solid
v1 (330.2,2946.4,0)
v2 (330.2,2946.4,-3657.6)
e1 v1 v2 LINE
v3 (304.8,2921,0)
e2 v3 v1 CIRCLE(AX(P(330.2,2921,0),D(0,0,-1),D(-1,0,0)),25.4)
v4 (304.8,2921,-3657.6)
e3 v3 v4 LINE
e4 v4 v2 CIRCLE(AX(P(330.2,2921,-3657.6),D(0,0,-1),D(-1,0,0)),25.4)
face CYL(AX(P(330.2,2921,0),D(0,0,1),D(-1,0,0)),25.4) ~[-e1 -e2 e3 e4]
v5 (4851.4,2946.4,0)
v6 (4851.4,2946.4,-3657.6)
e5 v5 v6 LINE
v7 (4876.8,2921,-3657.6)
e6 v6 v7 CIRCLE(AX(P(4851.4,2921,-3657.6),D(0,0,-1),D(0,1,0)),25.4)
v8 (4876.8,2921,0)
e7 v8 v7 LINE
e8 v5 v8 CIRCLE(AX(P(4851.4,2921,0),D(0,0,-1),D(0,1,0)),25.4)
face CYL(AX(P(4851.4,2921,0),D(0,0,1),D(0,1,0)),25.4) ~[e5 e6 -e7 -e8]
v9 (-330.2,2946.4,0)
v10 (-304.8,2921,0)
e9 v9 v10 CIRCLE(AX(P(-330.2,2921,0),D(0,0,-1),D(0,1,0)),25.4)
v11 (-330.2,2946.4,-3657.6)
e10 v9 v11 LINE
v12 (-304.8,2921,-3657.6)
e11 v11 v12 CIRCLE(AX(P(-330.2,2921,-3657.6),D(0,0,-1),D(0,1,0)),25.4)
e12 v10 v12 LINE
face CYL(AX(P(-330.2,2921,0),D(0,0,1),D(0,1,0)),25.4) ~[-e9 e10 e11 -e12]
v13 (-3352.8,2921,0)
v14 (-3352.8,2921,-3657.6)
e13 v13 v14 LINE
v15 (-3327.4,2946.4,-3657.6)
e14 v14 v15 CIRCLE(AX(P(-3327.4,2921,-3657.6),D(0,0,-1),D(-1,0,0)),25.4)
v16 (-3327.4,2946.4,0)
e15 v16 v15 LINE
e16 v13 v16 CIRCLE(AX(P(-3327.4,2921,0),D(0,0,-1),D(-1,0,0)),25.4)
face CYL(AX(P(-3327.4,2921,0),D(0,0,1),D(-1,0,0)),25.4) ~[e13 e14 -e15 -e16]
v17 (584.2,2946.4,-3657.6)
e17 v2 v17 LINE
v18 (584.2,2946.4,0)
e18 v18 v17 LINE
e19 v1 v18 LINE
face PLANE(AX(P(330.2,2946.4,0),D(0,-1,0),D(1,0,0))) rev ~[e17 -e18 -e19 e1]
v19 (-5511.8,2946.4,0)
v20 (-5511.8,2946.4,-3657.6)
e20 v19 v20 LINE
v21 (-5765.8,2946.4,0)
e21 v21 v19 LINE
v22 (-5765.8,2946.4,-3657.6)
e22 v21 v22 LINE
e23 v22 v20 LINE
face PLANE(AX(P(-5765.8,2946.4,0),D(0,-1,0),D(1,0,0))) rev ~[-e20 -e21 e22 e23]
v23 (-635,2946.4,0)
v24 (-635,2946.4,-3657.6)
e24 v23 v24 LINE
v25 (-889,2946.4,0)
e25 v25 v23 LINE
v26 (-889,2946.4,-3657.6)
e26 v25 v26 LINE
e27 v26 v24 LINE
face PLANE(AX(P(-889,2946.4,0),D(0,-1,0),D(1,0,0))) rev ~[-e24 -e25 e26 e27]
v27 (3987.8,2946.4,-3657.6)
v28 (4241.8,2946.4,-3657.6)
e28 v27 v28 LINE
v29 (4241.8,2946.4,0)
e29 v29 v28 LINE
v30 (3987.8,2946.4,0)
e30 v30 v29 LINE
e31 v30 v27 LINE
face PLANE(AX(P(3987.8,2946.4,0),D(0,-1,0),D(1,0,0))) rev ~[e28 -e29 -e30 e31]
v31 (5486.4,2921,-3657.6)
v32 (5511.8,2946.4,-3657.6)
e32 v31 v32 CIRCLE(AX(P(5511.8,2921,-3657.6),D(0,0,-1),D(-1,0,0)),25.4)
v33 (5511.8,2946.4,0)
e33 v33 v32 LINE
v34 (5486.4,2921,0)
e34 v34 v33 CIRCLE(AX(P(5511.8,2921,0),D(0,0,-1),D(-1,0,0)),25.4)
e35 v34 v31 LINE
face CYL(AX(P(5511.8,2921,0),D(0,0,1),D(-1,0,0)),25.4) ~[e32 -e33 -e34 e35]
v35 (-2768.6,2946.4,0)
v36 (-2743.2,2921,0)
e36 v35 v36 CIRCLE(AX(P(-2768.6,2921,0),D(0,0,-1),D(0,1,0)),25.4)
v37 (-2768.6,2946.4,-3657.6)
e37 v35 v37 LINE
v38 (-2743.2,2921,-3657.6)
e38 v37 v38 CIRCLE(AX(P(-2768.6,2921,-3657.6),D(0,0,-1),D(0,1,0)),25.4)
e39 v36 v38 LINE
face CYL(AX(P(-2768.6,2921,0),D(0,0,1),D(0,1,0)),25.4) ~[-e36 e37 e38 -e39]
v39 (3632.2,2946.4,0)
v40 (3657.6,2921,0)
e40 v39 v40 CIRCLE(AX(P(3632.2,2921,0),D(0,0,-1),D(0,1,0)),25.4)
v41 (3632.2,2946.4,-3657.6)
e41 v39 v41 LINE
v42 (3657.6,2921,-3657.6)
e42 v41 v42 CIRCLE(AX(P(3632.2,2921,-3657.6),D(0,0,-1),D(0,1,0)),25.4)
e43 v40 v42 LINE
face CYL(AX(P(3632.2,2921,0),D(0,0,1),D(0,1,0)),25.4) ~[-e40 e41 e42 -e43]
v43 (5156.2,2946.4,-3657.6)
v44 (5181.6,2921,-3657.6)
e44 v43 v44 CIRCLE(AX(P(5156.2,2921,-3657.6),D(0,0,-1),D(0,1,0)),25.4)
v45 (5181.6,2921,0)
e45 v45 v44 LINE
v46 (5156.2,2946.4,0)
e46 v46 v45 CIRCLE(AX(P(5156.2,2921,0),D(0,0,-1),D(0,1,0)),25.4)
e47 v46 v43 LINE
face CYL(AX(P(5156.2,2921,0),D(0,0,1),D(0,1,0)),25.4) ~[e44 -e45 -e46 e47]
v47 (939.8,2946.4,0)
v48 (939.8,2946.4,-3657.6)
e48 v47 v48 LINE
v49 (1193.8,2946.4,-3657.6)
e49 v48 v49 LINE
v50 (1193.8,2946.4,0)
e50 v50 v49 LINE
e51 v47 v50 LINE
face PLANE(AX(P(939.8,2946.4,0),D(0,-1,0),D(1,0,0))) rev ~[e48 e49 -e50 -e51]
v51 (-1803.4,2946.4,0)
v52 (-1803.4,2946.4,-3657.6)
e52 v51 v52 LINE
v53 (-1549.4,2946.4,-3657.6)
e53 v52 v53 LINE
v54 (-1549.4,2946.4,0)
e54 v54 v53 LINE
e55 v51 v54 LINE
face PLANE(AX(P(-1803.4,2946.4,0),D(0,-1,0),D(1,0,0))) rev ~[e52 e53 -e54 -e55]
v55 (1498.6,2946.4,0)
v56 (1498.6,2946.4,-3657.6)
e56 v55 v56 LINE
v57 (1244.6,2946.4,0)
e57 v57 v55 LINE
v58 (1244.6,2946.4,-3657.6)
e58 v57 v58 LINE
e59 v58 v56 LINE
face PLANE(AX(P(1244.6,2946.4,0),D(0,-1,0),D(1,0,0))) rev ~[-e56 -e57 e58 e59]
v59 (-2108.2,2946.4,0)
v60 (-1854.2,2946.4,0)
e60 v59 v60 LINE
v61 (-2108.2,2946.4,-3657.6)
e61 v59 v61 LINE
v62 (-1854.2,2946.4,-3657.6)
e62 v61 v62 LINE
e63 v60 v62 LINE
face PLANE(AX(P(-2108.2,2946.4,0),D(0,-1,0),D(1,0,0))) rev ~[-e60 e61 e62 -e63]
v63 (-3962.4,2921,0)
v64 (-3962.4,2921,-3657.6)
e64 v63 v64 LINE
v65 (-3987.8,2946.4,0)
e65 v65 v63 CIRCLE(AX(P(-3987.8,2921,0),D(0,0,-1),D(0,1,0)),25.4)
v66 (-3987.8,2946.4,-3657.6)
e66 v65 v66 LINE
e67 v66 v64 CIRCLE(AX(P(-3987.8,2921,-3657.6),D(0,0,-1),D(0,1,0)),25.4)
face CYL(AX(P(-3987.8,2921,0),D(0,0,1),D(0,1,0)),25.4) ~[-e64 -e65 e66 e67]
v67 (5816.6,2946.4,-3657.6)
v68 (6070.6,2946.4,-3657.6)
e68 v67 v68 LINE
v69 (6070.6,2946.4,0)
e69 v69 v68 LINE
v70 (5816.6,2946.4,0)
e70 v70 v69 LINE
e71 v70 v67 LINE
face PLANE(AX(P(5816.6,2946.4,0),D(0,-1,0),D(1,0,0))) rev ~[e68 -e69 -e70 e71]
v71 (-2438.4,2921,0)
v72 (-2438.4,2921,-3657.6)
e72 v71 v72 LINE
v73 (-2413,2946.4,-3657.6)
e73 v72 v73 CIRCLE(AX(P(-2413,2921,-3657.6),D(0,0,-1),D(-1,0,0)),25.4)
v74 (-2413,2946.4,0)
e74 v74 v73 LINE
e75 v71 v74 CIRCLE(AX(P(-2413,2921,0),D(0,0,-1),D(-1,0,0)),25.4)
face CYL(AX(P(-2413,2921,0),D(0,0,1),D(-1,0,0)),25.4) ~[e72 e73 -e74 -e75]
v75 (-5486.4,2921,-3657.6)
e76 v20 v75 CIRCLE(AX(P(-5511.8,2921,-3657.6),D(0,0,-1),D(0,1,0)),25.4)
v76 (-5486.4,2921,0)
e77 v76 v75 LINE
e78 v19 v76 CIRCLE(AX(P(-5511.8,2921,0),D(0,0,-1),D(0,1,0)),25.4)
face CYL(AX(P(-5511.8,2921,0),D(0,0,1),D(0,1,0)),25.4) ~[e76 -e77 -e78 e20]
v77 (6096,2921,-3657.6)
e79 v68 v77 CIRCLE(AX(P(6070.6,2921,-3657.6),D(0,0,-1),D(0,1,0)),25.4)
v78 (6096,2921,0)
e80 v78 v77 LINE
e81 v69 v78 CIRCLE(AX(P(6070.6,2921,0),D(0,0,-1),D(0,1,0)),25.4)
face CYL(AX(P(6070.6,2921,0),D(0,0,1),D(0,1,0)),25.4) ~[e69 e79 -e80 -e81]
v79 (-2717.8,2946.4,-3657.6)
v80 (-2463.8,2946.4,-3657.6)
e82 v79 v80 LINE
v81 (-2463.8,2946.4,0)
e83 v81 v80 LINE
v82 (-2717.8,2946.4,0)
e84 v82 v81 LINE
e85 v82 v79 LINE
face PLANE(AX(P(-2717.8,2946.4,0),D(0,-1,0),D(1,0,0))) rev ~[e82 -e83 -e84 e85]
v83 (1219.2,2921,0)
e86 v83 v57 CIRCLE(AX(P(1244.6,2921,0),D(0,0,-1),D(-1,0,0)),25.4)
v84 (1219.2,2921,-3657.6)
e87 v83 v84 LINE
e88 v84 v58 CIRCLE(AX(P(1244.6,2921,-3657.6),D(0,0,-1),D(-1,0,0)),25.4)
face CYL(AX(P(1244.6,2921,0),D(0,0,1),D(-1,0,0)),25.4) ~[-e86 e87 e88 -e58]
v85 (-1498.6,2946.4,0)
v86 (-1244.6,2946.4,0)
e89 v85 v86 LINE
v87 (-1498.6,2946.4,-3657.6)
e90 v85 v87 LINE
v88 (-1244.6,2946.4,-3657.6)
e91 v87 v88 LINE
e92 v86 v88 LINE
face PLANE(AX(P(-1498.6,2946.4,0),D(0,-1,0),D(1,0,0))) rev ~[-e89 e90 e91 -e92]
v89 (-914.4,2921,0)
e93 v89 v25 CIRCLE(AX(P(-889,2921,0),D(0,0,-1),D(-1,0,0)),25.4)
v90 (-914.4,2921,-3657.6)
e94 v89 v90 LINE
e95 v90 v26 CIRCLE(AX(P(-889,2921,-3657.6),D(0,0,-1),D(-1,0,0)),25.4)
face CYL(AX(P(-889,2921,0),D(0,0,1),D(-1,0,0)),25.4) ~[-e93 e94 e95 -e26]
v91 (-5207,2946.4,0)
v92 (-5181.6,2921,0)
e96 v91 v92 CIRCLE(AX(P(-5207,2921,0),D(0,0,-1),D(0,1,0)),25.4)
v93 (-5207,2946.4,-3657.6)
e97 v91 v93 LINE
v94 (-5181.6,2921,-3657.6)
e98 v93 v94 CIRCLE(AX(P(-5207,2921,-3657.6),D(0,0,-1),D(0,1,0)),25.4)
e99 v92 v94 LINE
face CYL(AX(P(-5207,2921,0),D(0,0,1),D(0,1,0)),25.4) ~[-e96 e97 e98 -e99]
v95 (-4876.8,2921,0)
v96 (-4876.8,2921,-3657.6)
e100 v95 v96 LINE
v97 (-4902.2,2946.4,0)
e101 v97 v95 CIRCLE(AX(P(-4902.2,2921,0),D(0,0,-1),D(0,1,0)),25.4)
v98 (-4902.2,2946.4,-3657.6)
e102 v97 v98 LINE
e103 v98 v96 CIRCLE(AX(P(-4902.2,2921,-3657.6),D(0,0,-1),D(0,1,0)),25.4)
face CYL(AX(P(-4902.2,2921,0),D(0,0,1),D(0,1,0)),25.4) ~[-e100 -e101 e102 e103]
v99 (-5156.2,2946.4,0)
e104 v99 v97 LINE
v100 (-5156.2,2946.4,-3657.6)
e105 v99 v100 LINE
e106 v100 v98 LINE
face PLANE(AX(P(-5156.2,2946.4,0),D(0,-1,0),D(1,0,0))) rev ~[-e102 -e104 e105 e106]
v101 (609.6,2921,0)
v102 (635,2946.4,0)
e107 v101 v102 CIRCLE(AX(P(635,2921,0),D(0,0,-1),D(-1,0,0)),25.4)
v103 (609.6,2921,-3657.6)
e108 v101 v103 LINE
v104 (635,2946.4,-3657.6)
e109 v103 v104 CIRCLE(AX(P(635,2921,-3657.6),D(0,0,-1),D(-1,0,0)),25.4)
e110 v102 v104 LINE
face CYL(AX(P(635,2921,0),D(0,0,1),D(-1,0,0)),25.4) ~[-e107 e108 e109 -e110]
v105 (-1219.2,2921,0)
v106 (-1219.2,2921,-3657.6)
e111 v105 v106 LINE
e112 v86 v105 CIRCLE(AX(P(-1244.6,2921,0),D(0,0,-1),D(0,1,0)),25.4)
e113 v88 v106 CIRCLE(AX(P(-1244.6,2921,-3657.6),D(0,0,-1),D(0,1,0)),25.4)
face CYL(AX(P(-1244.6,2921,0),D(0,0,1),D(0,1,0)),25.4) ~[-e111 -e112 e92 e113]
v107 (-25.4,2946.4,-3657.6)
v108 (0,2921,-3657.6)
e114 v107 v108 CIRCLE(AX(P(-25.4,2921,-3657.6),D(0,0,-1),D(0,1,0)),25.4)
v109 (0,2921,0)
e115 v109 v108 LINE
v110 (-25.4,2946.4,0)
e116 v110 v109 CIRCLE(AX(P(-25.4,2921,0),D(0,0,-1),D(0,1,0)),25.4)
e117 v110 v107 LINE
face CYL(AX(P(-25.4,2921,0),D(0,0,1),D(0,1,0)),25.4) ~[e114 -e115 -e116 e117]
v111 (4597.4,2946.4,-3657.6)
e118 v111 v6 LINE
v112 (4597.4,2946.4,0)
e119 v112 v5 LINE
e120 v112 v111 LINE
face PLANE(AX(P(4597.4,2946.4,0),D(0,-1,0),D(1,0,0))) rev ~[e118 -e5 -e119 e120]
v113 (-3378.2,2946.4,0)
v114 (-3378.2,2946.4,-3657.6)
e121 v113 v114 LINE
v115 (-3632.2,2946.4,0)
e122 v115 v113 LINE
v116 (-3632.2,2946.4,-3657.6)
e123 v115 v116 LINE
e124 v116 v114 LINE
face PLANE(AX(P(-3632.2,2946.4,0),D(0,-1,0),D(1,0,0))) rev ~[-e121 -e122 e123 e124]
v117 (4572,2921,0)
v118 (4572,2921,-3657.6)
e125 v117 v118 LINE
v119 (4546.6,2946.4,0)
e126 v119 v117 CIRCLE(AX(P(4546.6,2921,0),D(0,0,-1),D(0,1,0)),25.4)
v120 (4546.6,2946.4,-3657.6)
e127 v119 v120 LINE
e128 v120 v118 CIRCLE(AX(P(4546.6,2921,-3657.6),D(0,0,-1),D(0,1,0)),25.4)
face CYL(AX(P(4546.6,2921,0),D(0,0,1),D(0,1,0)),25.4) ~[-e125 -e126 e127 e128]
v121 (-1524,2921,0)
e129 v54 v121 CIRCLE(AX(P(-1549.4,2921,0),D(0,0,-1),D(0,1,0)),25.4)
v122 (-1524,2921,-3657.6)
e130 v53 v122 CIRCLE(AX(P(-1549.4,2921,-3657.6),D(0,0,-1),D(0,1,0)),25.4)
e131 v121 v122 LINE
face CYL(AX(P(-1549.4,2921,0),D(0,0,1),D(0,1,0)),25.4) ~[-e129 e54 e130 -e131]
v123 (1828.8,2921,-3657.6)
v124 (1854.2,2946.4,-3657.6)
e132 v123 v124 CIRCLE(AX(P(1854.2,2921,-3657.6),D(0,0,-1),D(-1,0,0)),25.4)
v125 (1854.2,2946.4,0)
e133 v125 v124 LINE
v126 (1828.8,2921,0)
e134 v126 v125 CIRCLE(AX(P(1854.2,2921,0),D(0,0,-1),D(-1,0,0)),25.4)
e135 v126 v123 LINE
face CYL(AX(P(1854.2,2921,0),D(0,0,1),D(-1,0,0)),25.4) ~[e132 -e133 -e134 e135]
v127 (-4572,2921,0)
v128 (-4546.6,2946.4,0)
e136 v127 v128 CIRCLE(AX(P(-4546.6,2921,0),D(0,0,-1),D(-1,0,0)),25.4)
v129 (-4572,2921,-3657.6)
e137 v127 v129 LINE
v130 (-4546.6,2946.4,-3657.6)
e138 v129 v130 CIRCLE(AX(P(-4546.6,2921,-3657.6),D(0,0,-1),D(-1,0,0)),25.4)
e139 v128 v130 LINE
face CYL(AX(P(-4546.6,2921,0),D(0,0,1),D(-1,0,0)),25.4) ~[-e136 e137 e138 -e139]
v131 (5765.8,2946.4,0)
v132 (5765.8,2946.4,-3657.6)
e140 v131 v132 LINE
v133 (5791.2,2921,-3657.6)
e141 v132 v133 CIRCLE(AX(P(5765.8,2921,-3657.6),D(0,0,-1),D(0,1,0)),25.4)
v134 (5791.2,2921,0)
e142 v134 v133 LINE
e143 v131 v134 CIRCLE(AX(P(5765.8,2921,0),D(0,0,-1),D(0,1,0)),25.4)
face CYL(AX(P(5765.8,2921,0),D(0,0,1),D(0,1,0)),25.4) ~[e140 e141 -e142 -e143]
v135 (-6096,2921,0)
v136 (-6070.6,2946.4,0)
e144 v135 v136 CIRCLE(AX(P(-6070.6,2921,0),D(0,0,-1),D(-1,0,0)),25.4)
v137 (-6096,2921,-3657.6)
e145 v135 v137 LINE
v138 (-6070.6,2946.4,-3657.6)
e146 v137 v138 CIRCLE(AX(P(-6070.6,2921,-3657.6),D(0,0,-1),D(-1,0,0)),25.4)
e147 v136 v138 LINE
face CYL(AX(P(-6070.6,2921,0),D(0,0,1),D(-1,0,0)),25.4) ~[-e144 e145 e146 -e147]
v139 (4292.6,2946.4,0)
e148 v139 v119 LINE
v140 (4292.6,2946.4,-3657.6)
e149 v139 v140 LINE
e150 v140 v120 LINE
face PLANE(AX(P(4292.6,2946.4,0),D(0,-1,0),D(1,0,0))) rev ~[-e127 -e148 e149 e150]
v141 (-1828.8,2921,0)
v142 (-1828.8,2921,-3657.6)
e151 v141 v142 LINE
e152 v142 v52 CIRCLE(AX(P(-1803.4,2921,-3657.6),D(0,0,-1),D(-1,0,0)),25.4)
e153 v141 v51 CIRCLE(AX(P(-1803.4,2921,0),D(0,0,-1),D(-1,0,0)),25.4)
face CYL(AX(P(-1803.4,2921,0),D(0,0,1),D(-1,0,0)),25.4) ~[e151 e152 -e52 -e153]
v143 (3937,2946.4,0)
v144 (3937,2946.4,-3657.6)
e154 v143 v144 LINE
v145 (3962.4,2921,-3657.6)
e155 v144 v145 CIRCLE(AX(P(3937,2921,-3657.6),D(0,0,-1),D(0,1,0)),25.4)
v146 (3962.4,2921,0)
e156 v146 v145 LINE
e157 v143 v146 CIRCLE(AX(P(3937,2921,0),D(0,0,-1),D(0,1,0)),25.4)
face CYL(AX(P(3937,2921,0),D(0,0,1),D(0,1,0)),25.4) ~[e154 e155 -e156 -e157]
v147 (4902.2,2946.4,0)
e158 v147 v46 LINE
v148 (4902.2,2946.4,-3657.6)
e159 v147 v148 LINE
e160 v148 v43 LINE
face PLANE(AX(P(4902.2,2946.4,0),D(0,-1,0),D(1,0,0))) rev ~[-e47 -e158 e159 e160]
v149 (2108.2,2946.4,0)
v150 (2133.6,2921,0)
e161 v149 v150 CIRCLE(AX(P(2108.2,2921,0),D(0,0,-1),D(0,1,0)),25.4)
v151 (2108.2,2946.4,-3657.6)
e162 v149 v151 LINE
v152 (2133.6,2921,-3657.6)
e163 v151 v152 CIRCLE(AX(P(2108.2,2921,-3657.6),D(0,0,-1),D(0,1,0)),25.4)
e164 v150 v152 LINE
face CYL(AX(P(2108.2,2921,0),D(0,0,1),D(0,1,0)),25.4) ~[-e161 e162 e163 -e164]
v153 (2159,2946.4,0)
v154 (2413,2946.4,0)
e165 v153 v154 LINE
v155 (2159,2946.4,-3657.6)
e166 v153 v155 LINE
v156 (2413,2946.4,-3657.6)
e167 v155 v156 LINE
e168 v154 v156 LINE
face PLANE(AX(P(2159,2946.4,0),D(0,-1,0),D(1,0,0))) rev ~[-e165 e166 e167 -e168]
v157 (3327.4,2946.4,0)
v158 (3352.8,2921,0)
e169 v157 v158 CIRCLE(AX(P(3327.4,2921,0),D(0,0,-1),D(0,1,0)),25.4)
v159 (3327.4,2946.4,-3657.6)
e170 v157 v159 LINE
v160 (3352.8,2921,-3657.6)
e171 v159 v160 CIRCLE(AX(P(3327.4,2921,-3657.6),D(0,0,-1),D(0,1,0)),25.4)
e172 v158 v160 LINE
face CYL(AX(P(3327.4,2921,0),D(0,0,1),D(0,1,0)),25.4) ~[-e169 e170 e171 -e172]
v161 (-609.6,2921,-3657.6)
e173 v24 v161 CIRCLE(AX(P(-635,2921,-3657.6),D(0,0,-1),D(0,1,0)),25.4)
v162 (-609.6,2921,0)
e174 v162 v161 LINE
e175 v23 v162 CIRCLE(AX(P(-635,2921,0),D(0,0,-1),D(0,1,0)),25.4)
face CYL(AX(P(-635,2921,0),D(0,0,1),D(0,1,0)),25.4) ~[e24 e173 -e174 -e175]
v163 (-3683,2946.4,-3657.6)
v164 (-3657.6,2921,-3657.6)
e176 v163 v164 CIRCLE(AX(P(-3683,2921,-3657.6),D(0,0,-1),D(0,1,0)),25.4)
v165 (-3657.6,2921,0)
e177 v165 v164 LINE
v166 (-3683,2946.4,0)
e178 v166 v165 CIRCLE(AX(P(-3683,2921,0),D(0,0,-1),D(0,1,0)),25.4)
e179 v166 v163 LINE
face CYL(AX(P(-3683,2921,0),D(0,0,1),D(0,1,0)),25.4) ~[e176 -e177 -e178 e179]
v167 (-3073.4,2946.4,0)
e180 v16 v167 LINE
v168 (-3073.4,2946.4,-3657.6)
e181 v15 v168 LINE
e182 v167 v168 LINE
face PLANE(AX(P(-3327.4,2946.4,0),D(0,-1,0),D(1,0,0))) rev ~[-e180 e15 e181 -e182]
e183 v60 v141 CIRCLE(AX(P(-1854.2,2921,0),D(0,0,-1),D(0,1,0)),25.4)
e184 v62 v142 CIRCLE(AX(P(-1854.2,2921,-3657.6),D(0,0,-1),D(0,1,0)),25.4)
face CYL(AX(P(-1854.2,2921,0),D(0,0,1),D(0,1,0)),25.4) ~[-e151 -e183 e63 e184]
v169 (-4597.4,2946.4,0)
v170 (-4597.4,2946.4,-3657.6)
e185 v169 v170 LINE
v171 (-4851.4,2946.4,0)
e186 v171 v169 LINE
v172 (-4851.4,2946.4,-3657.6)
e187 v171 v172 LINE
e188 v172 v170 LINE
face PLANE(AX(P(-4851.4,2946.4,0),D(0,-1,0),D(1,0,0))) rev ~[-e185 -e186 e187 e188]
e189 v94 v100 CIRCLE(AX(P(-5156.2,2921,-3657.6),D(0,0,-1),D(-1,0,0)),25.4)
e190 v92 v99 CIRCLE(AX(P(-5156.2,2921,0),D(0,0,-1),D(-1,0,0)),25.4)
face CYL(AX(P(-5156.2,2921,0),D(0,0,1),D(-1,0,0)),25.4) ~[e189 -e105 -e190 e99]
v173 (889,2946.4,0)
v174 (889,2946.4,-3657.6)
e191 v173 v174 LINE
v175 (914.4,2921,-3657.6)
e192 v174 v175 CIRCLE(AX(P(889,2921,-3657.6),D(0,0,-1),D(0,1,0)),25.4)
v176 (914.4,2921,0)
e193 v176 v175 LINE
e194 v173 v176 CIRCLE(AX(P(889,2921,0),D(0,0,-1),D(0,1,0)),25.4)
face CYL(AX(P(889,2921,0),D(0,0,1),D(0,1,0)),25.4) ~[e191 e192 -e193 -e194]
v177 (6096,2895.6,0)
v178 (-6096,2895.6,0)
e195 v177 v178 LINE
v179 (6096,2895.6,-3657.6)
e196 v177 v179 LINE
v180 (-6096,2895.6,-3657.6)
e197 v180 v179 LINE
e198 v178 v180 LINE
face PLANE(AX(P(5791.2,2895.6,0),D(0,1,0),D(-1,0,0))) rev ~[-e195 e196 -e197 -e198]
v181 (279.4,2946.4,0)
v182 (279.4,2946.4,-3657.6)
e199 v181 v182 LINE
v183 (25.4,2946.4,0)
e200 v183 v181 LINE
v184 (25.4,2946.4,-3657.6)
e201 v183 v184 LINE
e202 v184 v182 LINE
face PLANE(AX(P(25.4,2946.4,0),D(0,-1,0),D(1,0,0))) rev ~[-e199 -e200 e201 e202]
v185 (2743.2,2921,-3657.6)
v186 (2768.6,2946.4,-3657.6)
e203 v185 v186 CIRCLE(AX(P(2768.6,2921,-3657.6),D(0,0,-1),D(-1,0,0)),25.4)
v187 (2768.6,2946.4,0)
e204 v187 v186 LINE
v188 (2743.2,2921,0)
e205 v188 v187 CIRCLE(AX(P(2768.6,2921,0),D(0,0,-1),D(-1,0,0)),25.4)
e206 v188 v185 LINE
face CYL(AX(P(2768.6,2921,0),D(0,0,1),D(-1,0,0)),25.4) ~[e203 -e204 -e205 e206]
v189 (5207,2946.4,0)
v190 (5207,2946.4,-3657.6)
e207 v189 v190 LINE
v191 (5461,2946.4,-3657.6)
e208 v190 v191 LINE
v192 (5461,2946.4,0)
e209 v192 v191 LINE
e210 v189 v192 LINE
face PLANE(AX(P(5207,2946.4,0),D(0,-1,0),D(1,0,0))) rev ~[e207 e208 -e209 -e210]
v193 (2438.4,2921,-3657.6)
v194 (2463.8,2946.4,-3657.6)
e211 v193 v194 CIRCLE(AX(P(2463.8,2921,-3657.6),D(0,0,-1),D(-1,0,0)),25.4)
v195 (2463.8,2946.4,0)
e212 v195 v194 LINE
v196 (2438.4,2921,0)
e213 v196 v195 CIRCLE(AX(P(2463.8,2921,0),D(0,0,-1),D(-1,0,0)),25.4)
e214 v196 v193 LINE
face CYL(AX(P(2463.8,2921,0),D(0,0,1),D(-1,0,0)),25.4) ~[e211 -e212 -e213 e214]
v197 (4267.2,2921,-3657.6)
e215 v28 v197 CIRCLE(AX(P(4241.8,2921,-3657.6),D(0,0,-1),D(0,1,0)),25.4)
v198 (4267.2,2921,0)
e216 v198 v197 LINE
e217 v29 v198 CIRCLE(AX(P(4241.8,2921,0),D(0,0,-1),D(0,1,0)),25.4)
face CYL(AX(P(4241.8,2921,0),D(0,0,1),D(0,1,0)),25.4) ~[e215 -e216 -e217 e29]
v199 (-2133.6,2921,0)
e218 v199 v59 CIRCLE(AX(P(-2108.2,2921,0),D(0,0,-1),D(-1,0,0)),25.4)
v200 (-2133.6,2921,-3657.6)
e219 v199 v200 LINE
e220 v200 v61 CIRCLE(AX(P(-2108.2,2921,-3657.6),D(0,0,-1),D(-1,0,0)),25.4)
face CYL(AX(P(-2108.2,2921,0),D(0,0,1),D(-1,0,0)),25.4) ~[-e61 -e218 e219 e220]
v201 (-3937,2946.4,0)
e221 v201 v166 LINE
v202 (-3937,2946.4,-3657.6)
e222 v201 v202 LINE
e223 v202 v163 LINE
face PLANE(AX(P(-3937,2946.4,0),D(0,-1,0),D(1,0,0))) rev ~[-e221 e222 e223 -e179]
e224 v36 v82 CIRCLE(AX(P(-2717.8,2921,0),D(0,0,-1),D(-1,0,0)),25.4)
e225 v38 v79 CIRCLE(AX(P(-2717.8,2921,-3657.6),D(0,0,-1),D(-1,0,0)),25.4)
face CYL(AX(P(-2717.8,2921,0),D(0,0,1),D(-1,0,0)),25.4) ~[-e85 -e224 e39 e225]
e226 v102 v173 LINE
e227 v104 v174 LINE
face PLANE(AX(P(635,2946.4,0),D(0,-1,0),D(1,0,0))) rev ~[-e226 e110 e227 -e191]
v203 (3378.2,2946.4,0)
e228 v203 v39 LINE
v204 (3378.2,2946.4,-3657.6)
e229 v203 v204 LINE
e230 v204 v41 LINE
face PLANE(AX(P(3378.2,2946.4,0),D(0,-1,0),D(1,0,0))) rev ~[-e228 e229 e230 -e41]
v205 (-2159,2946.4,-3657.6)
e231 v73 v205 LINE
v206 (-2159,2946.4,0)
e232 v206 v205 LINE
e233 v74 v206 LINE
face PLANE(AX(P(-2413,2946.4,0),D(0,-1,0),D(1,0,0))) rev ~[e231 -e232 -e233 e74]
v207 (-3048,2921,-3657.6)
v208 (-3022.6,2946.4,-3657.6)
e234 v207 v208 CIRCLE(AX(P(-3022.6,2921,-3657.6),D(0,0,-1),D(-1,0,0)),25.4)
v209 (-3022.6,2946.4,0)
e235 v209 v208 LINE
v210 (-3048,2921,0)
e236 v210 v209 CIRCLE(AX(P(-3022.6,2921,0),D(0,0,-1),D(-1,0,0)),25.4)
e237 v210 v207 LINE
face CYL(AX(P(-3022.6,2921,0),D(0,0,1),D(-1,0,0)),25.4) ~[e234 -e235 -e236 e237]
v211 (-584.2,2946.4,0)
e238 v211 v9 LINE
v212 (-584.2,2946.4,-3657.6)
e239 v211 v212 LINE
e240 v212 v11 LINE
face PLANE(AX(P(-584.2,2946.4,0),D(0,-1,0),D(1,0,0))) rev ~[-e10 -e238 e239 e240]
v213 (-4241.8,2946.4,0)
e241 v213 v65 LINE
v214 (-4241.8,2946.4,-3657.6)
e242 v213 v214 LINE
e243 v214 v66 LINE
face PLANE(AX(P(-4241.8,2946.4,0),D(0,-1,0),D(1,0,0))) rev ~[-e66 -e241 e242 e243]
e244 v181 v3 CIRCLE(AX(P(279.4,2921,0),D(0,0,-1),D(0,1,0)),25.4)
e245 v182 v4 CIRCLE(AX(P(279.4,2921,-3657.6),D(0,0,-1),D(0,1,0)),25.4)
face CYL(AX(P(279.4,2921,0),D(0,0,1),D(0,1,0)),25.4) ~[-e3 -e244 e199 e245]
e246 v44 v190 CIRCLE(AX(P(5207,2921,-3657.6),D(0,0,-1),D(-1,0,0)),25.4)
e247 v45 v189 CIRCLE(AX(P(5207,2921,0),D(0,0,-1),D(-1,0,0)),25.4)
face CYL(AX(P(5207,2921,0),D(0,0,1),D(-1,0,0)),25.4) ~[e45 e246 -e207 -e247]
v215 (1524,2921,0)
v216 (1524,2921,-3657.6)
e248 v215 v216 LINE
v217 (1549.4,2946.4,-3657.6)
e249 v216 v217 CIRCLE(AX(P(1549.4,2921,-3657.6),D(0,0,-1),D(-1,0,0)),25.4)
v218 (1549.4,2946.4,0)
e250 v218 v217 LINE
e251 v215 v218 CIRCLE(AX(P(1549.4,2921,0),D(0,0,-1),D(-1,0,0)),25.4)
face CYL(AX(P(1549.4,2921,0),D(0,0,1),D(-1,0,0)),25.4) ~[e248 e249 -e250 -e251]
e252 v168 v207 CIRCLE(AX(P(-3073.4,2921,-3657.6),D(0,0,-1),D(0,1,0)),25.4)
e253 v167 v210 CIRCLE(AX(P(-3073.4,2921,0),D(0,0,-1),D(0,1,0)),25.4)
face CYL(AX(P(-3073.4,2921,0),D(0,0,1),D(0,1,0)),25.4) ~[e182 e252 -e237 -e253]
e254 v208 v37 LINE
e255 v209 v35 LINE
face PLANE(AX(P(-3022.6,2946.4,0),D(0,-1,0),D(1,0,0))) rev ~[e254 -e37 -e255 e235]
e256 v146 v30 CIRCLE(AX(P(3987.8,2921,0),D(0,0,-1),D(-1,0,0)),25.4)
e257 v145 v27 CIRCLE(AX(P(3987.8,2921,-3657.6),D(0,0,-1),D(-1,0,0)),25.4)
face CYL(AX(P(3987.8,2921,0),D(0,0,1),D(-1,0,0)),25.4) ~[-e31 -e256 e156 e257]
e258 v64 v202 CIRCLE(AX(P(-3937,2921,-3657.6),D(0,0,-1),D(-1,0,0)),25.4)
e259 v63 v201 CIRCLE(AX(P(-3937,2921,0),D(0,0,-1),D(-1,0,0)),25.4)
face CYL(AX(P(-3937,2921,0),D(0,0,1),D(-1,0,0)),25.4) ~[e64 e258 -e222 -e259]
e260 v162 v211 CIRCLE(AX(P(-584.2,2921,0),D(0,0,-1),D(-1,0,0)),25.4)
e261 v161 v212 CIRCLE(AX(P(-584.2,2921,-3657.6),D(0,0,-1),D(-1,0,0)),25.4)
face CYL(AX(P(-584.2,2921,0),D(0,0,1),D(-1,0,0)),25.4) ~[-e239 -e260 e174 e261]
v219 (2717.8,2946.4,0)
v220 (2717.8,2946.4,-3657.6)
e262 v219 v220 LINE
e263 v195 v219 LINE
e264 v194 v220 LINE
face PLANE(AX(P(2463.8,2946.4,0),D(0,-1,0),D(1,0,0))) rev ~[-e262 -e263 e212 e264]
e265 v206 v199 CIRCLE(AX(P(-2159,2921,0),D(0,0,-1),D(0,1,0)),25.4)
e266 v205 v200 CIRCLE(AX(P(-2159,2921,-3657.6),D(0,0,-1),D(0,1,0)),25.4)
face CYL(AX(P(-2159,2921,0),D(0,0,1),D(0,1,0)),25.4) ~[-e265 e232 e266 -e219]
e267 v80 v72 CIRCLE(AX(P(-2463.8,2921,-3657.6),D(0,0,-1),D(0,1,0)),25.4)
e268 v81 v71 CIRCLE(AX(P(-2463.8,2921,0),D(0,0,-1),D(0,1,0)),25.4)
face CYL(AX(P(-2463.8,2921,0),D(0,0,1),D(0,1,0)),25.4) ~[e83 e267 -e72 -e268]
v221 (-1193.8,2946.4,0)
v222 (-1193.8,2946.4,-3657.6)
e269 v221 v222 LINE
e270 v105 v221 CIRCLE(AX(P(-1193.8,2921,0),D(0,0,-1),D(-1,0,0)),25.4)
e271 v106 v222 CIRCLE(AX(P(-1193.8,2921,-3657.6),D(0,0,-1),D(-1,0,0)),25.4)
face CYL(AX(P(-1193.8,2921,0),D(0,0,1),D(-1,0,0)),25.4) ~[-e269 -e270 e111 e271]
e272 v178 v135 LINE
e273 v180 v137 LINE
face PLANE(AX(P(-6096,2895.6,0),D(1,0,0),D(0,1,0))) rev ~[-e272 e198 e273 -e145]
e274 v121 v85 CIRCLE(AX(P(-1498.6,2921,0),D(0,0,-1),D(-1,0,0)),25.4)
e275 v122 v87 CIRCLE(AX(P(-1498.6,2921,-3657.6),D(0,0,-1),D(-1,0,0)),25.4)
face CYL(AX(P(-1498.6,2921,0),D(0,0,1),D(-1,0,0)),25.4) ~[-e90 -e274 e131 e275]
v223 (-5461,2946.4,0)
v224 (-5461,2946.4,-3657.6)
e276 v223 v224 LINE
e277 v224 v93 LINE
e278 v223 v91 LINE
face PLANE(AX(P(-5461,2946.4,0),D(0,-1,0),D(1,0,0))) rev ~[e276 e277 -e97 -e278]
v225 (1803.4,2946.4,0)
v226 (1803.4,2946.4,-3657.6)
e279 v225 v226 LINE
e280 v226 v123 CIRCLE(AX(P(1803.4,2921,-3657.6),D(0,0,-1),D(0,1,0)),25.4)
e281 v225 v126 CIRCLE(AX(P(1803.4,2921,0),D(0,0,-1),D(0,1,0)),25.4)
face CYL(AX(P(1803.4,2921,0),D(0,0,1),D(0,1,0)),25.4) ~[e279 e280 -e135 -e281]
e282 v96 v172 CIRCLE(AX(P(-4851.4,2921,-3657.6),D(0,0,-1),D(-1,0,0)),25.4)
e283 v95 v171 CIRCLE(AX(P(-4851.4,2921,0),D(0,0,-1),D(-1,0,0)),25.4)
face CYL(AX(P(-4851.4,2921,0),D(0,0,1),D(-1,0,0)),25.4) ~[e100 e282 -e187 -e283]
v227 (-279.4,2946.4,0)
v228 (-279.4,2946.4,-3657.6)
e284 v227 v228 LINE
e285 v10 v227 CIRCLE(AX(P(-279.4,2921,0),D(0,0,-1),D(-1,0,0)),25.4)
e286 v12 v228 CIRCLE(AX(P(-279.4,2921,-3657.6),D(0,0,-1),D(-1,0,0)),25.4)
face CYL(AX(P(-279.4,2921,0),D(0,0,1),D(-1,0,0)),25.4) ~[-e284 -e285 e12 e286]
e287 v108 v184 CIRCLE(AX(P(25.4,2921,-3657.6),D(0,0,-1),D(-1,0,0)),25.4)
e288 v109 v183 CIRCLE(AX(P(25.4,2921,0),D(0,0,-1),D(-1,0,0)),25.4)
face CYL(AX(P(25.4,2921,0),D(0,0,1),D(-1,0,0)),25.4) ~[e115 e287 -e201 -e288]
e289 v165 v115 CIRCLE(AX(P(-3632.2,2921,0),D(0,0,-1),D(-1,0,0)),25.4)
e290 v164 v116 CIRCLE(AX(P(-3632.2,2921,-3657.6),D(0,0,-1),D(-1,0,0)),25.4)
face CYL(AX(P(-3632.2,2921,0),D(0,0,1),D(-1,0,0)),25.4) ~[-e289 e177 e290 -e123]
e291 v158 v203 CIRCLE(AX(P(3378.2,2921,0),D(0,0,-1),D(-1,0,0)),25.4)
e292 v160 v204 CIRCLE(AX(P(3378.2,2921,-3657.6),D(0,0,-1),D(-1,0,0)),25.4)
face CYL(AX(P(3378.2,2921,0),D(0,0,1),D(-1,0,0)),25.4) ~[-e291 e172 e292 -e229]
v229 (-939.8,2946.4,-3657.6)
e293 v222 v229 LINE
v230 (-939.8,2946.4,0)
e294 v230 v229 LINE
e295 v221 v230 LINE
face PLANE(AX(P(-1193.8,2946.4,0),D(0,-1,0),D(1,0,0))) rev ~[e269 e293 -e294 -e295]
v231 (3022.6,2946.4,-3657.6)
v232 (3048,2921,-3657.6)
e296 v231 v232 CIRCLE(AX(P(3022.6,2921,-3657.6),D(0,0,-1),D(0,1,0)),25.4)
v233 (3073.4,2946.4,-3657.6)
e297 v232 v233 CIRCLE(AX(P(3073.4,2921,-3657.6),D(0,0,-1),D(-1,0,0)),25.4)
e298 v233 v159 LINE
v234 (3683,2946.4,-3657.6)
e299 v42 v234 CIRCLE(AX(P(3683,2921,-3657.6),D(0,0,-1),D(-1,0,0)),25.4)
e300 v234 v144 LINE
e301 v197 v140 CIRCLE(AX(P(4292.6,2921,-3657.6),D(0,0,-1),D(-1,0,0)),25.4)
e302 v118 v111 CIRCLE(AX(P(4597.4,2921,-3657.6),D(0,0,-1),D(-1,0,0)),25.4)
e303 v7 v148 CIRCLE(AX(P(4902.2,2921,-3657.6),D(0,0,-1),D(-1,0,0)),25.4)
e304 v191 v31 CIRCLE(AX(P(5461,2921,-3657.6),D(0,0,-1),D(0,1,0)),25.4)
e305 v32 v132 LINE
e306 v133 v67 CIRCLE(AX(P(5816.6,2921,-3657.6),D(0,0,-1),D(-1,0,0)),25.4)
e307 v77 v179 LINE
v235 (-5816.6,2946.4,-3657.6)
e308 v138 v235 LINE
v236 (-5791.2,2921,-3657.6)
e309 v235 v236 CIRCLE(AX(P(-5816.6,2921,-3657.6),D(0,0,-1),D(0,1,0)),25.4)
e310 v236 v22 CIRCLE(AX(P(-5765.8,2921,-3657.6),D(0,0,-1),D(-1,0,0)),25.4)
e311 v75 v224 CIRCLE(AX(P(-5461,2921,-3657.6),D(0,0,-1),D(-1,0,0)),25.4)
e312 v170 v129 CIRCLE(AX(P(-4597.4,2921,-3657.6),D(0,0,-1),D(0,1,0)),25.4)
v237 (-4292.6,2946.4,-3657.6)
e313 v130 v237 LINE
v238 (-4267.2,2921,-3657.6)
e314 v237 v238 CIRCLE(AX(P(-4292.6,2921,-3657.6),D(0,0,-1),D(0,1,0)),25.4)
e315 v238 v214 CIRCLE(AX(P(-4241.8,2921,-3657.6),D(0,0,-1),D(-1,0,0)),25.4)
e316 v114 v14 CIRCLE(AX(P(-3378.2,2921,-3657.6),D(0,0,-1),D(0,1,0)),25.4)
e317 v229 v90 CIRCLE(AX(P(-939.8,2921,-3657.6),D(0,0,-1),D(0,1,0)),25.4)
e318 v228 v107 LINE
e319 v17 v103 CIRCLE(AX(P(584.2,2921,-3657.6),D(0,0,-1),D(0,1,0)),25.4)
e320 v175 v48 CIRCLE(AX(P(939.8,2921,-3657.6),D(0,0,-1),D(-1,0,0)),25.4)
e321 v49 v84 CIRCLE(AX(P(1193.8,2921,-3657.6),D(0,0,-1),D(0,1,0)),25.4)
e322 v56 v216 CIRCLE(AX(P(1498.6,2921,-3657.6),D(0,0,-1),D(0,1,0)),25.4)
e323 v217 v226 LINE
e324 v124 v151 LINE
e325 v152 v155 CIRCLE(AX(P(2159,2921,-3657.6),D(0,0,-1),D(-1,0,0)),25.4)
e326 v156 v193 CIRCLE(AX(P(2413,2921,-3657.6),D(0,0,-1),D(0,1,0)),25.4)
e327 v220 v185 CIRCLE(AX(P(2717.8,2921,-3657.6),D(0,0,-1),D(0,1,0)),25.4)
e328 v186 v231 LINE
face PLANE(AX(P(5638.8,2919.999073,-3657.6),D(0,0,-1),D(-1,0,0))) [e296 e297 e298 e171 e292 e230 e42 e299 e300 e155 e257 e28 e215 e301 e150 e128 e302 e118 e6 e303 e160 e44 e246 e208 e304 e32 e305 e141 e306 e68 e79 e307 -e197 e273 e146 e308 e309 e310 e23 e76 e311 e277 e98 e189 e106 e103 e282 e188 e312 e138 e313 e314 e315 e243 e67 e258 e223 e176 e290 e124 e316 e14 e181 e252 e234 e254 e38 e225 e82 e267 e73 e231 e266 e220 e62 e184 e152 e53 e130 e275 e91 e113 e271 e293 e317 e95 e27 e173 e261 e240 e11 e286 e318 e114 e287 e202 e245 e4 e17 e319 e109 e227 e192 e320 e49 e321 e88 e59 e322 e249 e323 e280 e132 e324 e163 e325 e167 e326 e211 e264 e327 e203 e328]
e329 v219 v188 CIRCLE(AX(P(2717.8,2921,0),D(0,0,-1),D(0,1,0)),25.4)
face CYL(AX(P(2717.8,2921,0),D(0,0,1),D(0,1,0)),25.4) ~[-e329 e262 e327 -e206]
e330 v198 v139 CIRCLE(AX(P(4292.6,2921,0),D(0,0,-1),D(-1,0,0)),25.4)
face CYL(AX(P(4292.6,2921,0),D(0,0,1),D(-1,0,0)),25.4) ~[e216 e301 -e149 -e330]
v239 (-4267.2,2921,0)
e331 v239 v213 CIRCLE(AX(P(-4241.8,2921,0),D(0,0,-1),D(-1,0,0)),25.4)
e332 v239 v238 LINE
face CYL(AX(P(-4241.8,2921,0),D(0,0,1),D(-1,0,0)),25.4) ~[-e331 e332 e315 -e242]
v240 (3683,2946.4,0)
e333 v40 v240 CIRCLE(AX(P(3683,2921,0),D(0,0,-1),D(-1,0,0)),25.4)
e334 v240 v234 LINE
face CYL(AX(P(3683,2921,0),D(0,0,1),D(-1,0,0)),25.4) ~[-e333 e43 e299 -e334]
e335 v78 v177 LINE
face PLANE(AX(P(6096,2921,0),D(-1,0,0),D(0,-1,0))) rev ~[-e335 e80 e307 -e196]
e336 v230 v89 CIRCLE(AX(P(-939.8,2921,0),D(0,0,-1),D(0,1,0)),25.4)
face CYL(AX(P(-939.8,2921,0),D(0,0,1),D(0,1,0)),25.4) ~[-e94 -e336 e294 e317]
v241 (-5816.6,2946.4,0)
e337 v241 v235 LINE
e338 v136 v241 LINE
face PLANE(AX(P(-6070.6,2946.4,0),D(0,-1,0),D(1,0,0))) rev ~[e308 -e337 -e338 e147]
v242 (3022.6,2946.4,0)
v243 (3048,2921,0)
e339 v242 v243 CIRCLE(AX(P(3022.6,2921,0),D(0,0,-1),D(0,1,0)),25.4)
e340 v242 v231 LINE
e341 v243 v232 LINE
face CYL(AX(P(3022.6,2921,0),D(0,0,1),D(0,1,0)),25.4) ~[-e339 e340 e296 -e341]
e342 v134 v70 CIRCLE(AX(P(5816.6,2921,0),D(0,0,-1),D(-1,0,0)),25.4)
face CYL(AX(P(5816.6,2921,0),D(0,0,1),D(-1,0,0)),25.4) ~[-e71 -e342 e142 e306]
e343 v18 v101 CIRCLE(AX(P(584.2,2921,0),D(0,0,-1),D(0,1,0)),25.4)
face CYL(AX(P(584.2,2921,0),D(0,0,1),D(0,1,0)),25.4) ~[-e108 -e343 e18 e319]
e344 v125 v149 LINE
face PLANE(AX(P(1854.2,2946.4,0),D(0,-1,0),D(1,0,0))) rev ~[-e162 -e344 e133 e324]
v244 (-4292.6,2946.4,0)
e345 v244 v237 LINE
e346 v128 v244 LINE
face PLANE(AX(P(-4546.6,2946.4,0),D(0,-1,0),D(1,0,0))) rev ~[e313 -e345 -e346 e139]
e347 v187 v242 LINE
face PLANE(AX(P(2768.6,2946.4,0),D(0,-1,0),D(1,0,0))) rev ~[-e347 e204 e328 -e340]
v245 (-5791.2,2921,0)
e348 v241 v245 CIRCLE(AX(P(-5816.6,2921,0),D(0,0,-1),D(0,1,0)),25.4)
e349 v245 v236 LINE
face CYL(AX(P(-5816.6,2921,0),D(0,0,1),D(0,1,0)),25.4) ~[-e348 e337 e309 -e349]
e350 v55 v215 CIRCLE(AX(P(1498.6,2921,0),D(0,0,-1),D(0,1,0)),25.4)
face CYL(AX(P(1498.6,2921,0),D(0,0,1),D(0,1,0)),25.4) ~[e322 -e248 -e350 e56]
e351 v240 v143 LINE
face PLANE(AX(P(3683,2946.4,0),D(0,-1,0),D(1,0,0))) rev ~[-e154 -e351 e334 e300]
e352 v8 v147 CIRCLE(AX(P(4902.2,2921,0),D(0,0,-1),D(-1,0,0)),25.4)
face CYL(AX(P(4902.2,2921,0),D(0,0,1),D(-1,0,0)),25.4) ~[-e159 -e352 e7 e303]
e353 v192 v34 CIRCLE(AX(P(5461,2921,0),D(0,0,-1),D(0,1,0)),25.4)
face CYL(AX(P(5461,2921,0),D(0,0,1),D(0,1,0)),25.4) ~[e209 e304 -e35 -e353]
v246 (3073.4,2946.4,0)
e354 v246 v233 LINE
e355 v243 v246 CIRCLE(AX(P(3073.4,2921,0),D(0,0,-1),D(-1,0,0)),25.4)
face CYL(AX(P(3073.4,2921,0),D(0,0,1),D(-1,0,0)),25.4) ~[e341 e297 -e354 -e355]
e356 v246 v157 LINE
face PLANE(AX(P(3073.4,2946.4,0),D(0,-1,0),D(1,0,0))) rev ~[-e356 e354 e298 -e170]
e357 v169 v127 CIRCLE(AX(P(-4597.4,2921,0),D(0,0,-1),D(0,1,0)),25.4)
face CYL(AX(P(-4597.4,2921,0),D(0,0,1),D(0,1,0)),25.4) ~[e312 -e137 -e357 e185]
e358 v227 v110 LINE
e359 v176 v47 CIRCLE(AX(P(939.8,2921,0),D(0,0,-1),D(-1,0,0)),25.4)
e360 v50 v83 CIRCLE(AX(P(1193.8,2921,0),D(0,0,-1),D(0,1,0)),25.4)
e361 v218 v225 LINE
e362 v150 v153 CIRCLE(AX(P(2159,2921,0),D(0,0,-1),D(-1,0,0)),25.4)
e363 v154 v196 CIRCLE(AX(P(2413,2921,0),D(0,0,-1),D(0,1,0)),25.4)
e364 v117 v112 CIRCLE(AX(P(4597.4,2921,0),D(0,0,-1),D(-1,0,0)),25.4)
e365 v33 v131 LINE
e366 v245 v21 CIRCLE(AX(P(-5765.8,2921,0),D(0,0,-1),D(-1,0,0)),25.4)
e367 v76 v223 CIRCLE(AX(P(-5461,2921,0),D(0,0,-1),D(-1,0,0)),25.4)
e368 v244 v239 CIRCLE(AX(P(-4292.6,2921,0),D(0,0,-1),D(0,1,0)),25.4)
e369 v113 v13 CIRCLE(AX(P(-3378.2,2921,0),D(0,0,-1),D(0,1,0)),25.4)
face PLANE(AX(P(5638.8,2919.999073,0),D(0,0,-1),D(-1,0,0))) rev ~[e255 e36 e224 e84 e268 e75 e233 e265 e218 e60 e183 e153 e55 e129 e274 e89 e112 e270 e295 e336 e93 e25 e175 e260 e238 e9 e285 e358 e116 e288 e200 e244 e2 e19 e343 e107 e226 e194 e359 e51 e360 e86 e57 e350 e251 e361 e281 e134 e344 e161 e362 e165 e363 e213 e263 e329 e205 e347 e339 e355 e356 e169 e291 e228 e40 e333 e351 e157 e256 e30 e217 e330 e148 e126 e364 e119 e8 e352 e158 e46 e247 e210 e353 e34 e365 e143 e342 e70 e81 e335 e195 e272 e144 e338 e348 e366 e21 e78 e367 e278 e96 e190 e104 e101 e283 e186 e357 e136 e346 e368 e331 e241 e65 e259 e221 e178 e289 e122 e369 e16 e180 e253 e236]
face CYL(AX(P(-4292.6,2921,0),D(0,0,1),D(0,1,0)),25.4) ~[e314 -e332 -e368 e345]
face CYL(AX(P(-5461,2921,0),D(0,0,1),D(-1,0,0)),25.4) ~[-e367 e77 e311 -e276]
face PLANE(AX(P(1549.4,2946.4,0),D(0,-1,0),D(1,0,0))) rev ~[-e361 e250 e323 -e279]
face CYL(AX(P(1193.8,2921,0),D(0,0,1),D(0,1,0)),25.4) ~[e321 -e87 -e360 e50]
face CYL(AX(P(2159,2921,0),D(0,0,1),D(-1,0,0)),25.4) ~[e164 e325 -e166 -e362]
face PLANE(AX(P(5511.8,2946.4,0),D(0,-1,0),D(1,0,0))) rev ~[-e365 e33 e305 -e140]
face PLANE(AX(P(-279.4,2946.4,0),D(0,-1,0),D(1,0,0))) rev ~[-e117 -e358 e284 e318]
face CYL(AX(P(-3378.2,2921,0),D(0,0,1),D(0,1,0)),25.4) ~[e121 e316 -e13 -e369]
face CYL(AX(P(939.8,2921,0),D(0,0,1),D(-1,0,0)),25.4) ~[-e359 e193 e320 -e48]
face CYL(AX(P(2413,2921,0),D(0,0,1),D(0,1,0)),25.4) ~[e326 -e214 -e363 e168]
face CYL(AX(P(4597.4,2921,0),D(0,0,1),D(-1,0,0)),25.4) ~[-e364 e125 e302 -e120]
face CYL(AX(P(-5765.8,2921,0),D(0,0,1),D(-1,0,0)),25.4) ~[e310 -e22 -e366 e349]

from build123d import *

# Parameters (mm, degrees)
BOSS_EXTRUDE1_DEPTH = 3657.6
LPATTERN1_COUNT     = 40
LPATTERN1_PITCH     = 304.8


with BuildPart() as part:
    # Sketch1 → Boss-Extrude1 (new body)
    with BuildSketch(Plane.XY):
        with BuildLine():
            Line((6096, 2895.6), (5791.2, 2895.6))
            Line((5791.2, 2895.6), (5791.2, 2921))
            ThreePointArc((5791.2, 2921), (5798.639487758, 2938.960512242), (5816.6, 2946.4))
            Line((5816.6, 2946.4), (6070.6, 2946.4))
            ThreePointArc((6070.6, 2946.4), (6088.560512242, 2938.960512242), (6096, 2921))
            Line((6096, 2921), (6096, 2895.6))
        make_face()
    boss_extrude1 = extrude(amount=-BOSS_EXTRUDE1_DEPTH)

    # LPattern1: Boss-Extrude1 ×40
    with Locations(*[(-i * LPATTERN1_PITCH, 0, 0) for i in range(1, LPATTERN1_COUNT)]):
        add(boss_extrude1)


solid = part.part
